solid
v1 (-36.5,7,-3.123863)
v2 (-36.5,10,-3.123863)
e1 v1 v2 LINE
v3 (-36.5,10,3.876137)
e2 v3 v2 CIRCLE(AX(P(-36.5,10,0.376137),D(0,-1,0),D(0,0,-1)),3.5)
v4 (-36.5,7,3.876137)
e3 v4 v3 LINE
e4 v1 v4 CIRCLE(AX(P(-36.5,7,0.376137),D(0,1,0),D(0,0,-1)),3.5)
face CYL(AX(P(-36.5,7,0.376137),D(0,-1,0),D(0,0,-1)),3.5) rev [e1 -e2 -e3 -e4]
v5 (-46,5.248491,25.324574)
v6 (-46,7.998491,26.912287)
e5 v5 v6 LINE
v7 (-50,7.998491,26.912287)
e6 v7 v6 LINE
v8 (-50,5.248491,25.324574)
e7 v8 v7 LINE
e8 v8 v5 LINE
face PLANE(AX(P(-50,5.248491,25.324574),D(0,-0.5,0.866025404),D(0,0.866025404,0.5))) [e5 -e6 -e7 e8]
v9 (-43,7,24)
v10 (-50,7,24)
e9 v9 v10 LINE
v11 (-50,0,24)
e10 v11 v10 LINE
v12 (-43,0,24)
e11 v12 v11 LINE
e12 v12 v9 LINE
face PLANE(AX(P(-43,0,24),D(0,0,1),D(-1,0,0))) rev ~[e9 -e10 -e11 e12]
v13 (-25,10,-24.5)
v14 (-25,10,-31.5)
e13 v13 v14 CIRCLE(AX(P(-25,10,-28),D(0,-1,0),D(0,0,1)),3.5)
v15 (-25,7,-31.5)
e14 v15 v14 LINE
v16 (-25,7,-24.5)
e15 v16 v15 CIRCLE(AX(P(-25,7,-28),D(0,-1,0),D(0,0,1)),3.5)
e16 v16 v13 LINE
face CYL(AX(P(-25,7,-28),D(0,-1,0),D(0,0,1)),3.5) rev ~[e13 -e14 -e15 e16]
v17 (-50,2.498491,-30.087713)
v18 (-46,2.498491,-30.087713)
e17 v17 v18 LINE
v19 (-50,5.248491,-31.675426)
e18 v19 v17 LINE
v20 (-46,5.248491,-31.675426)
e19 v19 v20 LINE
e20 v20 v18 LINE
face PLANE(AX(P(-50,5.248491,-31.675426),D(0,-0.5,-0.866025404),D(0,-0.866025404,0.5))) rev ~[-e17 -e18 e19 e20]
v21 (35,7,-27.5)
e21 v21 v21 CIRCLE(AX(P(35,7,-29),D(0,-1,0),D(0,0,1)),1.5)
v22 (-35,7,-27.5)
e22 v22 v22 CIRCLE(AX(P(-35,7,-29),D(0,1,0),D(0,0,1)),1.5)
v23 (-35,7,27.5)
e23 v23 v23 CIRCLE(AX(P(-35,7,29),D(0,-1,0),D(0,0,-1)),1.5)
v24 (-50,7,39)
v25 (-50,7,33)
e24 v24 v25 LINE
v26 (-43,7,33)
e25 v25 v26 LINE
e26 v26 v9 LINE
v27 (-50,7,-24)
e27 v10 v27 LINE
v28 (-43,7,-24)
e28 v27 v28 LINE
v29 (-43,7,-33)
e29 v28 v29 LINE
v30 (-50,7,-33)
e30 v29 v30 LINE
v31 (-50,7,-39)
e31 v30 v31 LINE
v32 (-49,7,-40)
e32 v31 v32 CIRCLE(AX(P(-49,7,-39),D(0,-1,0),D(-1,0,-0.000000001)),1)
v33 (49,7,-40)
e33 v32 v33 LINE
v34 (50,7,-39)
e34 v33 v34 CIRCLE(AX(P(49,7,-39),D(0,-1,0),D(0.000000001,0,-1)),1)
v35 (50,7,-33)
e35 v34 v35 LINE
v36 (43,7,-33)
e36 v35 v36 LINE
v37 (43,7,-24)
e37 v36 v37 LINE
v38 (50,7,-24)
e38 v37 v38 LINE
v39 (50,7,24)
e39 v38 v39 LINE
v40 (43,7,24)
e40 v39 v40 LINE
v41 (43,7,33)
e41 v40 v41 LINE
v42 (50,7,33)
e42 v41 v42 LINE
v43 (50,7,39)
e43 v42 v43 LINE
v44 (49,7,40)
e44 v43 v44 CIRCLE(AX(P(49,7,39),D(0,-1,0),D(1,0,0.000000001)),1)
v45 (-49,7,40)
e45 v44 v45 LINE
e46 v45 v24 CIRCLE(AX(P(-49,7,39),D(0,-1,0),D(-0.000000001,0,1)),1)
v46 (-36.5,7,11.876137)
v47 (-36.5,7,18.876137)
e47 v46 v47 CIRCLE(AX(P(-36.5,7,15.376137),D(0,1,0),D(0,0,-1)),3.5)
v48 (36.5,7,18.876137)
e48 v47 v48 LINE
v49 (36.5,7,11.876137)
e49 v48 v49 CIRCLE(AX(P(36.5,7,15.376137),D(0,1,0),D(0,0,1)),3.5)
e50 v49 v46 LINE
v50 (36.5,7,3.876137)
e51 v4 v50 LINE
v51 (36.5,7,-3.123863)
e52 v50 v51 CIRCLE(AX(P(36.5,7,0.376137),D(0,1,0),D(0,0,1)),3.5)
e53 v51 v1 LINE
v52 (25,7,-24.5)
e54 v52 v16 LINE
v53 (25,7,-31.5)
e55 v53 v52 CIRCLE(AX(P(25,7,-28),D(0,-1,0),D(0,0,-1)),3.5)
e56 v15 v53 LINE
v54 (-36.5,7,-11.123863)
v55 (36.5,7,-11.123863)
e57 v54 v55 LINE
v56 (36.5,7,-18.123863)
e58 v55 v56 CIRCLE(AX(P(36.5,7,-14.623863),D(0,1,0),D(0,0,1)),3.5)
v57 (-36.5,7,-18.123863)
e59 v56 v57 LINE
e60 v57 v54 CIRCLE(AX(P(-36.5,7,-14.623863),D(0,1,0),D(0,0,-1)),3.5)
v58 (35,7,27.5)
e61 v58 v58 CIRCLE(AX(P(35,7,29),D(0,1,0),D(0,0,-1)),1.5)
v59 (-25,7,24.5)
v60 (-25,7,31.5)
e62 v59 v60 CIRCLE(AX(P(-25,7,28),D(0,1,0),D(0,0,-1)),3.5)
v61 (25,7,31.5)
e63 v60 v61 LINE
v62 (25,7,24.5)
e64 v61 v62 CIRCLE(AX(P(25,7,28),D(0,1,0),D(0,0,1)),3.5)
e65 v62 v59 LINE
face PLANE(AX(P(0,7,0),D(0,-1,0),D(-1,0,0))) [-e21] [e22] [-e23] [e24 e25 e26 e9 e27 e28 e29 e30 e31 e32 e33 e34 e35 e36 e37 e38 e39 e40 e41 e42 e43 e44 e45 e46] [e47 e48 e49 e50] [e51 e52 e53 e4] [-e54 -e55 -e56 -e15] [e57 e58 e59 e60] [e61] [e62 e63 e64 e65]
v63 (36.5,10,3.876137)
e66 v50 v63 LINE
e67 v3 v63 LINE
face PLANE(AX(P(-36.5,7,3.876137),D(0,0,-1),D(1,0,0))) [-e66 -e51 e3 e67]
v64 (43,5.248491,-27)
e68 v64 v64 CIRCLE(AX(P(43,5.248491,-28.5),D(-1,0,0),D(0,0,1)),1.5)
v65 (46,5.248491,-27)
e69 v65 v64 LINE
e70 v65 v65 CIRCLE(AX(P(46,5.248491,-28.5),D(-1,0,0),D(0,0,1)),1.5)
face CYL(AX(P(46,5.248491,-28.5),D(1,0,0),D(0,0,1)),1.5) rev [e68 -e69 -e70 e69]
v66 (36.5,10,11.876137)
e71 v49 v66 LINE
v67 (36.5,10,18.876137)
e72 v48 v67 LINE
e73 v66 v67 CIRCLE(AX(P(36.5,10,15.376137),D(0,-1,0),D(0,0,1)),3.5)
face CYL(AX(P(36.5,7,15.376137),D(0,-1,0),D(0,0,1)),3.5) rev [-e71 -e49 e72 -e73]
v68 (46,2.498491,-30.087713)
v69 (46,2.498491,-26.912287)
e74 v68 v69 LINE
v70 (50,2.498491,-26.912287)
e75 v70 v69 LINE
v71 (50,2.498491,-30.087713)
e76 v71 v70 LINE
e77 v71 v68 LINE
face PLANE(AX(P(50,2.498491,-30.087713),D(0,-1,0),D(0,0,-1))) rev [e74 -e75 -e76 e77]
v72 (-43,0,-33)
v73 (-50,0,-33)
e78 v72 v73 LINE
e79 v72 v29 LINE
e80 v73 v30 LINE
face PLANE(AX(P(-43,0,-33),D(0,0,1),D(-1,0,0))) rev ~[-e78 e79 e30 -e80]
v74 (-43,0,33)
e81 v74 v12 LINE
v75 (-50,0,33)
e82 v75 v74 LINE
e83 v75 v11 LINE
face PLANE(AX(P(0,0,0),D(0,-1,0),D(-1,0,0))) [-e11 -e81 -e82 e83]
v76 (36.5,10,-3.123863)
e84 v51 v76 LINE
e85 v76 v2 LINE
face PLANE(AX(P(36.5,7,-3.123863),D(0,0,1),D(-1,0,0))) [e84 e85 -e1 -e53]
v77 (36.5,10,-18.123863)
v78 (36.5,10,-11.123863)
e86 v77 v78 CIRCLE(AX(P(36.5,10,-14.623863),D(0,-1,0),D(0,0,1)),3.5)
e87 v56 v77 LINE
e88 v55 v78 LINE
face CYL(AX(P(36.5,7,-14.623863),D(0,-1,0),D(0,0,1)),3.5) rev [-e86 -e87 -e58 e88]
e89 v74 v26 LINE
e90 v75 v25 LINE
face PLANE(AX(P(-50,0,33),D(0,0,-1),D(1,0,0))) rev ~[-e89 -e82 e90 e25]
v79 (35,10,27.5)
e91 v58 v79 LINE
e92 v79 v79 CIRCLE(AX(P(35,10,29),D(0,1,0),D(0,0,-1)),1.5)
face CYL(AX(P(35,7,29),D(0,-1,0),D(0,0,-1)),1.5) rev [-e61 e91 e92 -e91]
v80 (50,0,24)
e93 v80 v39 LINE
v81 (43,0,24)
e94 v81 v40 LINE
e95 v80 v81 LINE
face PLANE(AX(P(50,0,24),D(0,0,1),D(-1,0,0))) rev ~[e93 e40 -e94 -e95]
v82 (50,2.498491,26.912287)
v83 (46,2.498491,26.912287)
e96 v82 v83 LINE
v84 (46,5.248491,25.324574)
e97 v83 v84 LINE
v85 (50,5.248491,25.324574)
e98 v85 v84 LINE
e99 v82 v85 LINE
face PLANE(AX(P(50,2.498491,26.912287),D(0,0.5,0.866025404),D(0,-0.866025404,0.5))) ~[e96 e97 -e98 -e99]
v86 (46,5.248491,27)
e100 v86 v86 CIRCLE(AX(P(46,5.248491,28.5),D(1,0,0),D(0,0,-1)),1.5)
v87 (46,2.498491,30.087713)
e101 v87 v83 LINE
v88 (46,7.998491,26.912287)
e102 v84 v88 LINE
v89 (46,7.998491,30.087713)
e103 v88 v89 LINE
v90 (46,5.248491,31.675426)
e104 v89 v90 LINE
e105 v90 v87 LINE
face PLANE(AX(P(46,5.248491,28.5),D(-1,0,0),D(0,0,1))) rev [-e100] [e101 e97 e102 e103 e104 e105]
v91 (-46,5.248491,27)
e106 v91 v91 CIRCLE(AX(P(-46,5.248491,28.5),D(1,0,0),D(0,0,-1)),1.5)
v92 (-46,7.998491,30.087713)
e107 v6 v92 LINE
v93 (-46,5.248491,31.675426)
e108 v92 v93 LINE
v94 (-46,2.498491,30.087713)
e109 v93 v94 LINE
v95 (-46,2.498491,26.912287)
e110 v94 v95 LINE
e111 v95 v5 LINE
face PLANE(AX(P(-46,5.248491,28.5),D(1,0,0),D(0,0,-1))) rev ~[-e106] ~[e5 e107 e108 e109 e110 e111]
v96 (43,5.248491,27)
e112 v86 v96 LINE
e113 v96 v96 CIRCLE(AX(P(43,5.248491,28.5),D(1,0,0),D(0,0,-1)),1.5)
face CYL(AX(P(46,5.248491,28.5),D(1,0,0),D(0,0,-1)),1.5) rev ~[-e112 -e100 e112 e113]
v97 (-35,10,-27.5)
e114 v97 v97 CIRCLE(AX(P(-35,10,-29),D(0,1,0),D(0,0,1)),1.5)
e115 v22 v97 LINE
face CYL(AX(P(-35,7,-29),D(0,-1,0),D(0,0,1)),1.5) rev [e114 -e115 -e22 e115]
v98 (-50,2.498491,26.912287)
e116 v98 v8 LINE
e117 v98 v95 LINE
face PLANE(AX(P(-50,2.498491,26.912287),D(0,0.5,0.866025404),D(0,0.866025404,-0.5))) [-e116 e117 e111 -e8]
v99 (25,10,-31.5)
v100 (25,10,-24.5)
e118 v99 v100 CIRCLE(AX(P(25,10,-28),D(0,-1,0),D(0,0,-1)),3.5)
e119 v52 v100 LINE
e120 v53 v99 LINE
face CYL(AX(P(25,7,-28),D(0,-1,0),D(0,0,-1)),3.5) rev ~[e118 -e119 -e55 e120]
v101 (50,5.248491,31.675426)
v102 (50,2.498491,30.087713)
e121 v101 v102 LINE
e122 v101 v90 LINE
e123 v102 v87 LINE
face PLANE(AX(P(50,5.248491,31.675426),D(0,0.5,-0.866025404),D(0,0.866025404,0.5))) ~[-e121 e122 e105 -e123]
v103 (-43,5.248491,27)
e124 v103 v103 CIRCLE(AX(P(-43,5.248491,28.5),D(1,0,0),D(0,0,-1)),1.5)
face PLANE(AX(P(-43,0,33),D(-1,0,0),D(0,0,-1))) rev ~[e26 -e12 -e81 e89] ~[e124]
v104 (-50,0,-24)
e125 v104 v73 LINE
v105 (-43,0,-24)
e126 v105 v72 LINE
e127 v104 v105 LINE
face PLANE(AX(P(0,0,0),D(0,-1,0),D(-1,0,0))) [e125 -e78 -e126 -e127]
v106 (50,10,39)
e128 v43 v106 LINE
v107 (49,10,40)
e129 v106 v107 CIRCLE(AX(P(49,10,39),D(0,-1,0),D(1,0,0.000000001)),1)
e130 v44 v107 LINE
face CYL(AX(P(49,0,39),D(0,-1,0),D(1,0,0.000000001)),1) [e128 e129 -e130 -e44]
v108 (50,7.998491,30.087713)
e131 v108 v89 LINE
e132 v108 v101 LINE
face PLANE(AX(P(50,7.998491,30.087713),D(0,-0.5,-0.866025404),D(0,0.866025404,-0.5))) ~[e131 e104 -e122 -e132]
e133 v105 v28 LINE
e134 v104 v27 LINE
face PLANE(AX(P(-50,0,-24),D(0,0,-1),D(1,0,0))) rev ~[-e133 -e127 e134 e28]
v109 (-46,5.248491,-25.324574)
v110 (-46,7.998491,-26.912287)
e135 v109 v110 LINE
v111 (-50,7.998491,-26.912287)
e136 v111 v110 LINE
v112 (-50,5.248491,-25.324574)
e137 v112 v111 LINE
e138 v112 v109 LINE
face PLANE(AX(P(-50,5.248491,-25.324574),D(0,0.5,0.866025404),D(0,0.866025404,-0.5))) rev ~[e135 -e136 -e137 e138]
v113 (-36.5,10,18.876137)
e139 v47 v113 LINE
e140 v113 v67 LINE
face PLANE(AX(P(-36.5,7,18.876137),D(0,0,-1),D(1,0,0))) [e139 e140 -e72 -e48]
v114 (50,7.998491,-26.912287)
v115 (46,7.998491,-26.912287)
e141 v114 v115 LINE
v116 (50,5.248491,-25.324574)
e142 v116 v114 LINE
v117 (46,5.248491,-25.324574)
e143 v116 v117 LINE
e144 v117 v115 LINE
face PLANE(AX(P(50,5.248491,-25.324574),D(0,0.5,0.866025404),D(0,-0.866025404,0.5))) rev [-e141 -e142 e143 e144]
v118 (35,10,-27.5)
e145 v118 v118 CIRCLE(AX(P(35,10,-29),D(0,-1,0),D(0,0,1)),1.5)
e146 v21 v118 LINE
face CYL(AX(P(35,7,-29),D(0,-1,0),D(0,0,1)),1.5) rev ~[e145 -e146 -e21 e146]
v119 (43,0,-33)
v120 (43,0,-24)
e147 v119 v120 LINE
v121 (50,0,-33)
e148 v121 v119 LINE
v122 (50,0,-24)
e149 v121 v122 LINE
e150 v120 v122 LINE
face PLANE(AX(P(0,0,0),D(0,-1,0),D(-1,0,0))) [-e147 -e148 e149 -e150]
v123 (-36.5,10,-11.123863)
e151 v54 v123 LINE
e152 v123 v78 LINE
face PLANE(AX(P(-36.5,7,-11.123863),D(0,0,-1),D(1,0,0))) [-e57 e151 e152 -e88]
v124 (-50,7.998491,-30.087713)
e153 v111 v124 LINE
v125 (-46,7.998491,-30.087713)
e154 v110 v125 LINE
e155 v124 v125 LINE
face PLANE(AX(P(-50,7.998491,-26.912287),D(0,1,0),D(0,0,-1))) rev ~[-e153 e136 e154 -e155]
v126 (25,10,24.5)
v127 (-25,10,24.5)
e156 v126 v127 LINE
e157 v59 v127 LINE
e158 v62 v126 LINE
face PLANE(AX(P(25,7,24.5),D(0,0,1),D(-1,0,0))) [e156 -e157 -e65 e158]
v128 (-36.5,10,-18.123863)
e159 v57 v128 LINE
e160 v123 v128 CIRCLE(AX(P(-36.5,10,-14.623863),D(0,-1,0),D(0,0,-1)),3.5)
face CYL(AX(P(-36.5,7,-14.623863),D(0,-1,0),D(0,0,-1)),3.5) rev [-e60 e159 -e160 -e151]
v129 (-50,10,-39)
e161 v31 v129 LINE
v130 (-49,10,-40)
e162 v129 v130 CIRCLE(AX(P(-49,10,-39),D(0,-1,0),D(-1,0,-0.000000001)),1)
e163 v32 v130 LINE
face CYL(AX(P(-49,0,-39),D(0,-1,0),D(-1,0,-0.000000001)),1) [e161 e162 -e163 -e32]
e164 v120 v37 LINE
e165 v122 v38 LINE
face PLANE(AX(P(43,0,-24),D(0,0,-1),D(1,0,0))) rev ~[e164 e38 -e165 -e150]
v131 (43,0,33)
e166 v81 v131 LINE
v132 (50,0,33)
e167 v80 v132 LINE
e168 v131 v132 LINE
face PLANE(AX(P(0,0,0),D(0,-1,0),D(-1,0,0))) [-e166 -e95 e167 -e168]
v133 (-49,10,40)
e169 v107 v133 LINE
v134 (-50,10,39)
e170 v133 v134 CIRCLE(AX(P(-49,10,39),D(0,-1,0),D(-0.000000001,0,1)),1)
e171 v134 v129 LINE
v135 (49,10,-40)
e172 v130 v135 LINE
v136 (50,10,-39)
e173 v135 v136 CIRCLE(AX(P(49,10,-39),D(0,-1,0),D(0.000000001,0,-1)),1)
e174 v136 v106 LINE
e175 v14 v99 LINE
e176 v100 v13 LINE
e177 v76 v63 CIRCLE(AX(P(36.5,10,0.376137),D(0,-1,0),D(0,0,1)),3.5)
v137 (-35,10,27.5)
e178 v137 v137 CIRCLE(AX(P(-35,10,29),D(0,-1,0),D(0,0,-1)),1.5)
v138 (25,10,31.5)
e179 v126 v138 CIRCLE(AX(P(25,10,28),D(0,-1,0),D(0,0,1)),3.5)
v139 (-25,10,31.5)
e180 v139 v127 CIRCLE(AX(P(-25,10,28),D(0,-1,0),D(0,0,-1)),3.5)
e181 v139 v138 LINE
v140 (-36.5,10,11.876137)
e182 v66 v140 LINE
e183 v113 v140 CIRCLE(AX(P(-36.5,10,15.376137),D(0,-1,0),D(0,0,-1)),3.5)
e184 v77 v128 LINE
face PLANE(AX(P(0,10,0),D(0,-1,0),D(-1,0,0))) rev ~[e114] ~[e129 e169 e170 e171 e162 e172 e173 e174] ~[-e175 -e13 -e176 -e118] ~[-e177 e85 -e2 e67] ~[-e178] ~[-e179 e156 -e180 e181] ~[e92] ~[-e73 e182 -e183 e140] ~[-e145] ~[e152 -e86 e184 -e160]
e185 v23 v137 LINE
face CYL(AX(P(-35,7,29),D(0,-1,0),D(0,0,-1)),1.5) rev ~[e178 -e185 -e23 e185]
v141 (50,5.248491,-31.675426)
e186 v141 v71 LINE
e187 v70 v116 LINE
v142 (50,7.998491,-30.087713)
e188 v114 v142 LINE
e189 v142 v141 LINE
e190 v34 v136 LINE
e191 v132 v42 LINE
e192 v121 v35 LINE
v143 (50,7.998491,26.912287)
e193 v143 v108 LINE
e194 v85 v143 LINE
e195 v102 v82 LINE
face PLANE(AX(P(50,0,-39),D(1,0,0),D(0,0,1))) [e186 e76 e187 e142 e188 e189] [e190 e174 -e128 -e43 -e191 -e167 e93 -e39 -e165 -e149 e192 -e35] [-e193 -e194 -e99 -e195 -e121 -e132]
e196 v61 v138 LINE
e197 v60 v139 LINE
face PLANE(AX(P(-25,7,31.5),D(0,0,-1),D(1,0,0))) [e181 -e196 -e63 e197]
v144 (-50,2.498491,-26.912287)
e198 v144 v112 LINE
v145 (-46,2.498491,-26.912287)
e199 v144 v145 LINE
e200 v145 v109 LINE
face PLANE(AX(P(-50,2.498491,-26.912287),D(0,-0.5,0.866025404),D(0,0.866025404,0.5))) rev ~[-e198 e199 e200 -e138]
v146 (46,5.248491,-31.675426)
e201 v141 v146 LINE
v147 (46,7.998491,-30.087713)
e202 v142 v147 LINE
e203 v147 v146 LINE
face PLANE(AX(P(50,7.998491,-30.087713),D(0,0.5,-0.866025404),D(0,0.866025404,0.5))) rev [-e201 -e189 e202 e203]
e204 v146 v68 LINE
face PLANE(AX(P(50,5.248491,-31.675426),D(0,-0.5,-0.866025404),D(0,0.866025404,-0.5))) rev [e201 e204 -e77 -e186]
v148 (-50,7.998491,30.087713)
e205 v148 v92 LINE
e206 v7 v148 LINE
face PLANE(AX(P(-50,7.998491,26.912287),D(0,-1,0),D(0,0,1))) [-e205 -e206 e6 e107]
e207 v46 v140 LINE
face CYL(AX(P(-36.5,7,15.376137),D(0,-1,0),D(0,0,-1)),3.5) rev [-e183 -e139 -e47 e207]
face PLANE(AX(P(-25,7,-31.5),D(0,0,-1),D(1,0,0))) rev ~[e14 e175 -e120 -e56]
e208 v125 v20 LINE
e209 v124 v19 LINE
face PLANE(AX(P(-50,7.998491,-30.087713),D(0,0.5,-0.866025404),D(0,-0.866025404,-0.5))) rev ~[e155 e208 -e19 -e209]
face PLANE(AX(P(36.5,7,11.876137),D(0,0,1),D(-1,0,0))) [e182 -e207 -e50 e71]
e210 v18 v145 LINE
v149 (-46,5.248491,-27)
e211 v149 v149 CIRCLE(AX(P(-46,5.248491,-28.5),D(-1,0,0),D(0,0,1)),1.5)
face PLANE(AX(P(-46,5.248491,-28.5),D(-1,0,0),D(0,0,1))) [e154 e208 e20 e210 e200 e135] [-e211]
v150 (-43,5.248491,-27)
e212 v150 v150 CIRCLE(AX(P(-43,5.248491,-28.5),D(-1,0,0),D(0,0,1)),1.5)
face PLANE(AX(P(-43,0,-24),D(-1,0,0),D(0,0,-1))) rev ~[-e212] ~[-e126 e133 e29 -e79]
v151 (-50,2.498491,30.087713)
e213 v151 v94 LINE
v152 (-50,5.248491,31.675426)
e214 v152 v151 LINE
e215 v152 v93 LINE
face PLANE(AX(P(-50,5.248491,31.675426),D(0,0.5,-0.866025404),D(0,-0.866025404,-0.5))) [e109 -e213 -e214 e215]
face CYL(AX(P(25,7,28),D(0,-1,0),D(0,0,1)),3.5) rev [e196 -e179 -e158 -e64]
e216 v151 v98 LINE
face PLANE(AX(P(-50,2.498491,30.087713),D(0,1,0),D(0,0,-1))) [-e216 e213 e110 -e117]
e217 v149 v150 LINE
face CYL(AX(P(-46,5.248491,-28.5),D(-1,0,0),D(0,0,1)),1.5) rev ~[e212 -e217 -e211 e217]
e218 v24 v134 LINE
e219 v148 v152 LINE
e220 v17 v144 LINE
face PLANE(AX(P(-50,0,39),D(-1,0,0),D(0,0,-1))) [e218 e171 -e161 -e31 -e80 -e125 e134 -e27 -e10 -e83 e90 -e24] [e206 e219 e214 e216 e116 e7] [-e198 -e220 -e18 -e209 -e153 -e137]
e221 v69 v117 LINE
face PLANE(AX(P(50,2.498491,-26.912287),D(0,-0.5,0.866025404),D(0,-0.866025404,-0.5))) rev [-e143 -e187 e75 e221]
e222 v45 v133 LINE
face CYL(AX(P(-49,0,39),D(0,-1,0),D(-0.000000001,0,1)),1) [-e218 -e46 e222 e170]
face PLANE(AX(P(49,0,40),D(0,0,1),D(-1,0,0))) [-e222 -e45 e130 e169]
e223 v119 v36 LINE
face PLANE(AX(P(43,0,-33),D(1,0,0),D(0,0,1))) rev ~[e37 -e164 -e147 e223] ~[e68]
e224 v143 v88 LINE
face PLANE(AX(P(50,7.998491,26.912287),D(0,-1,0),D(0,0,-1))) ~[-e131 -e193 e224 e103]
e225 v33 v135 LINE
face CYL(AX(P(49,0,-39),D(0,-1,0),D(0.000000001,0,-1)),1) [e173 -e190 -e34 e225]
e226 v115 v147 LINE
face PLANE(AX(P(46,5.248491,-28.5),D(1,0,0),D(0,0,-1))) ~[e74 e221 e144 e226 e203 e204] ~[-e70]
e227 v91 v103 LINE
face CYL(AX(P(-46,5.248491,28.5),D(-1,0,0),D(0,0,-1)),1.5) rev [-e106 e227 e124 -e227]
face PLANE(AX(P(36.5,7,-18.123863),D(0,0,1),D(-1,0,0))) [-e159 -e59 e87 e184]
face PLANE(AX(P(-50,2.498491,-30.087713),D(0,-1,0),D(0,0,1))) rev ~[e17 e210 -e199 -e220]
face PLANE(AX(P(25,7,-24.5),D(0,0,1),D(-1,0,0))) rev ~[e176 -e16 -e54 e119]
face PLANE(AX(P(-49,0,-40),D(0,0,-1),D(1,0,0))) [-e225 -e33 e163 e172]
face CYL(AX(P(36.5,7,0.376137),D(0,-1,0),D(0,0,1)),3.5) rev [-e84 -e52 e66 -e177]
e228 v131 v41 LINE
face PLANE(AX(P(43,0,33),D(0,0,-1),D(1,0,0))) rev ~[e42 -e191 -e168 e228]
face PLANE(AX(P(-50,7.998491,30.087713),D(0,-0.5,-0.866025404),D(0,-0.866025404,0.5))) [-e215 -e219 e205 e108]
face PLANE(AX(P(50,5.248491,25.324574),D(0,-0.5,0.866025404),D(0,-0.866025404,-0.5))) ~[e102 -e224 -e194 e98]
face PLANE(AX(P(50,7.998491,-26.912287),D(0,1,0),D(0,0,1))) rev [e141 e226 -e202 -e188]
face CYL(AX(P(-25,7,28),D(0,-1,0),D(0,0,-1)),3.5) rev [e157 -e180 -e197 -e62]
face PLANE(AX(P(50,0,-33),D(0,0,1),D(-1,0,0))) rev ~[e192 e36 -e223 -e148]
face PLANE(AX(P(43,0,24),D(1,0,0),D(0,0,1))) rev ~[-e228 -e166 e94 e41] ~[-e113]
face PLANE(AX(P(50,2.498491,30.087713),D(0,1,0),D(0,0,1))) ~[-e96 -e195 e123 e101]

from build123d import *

# Parameters (mm, degrees)
EXTRUDE_1_DEPTH                            = 10
CUT_EXTRUDE_1_DEPTH                        = 7
CUT_EXTRUDE_3_DEPTH                        = 4
CUT_EXTRUDE_4_DEPTH                        = 65.412731661
CUT_EXTRUDE_6_REACH                        = 106.48
SKETCH_8_R                                 = 1.5
CUT_EXTRUDE_6_DIRECTION_2_DEPTH            = 105.479663093
MIRROR_2_AT_THE_SECOND_PLANE_COPY_1_REACH  = 106.48
MIRROR_2_AT_THE_SECOND_PLANE_COPY_1_SKET_R = 1.5
MIRROR_2_AT_THE_SECOND_PLANE_COPY_2_SKET_R = 1.5
MIRROR_2_AT_THE_SECOND_PLANE_COPY_2_DEPTH  = 105.479663093
MIRROR_2_AT_THE_SECOND_PLANE_COPY_3_SKET_R = 1.5
MIRROR_2_AT_THE_SECOND_PLANE_COPY_3_DEPTH  = 105.479663093
CUT_EXTRUDE_7_REACH                        = 66.413
SKETCH_9_R                                 = 1.5
MIRROR_3_AT_THE_SECOND_PLANE_COPY_1_REACH  = 66.413
MIRROR_3_AT_THE_SECOND_PLANE_COPY_1_SKET_R = 1.5


with BuildPart() as part:
    # 草图1 → 凸台-拉伸1 (new body)
    with BuildSketch(Plane(origin=(0, 0, 0), x_dir=(1, 0, 0), z_dir=(0, 1, 0))):
        with BuildLine():
            Line((-49, 40), (49, 40))
            ThreePointArc((49, 40), (49.707106781, 39.707106781), (50, 39))
            Line((50, 39), (50, -39))
            ThreePointArc((50, -39), (49.707106781, -39.707106781), (49, -40))
            Line((49, -40), (-49, -40))
            ThreePointArc((-49, -40), (-49.707106781, -39.707106781), (-50, -39))
            Line((-50, -39), (-50, 39))
            ThreePointArc((-50, 39), (-49.707106781, 39.707106781), (-49, 40))
        make_face()
    extrude(amount=EXTRUDE_1_DEPTH)

    # 草图2 → 切除-拉伸1 (cut)
    with BuildSketch(Plane(origin=(0, 0, 0), x_dir=(-1, 0, 0), z_dir=(0, -1, 0))):
        Polygon((-50, 33), (-43, 33), (-43, 24), (-50, 24), (-50, -24), (-43, -24), (-43, -33), (-50, -33), (-50, -40), (50, -40), (50, -33), (43, -33), (43, -24), (50, -24), (50, 24), (43, 24), (43, 33), (50, 33), (50, 40), (-50, 40), align=None)
    extrude(amount=-CUT_EXTRUDE_1_DEPTH, mode=Mode.SUBTRACT)

    # 草图5 → 切除-拉伸3 (cut)
    with BuildSketch(Plane.ZY.offset(50)):
        Polygon((30.08771324, 7.998490707), (31.675426481, 5.248490707), (30.08771324, 2.498490707), (26.91228676, 2.498490707), (25.324573519, 5.248490707), (26.91228676, 7.998490707), align=None)
        Polygon((-25.324573519, 5.248490707), (-26.91228676, 7.998490707), (-30.08771324, 7.998490707), (-31.675426481, 5.248490707), (-30.08771324, 2.498490707), (-26.91228676, 2.498490707), align=None)
    cut_extrude_3 = extrude(amount=-CUT_EXTRUDE_3_DEPTH, mode=Mode.SUBTRACT)

    # 镜向1: 切除-拉伸3 across plane
    add(cut_extrude_3.mirror(Plane(origin=(0, 0, 0), x_dir=(0, 0, 1), z_dir=(1, 0, 0))), mode=Mode.SUBTRACT)

    # 草图6 → 切除-拉伸4 (cut, through all)
    with BuildSketch(Plane(origin=(0, 7, 0), x_dir=(-1, 0, 0), z_dir=(0, -1, 0))):
        with BuildLine():
            Line((25, -31.5), (-25, -31.5))
            ThreePointArc((-25, -31.5), (-28.5, -28), (-25, -24.5))
            Line((-25, -24.5), (25, -24.5))
            ThreePointArc((25, -24.5), (28.5, -28), (25, -31.5))
        make_face()
        with BuildLine():
            Line((25, 31.5), (-25, 31.5))
            ThreePointArc((-25, 31.5), (-28.5, 28), (-25, 24.5))
            Line((-25, 24.5), (25, 24.5))
            ThreePointArc((25, 24.5), (28.5, 28), (25, 31.5))
        make_face()
        with BuildLine():
            Line((-36.5, -11.876137074), (36.5, -11.876137074))
            ThreePointArc((36.5, -11.876137074), (40, -15.376137074), (36.5, -18.876137074))
            Line((36.5, -18.876137074), (-36.5, -18.876137074))
            ThreePointArc((-36.5, -18.876137074), (-40, -15.376137074), (-36.5, -11.876137074))
        make_face()
        with BuildLine():
            Line((-36.5, 3.123862926), (36.5, 3.123862926))
            ThreePointArc((36.5, 3.123862926), (40, -0.376137074), (36.5, -3.876137074))
            Line((36.5, -3.876137074), (-36.5, -3.876137074))
            ThreePointArc((-36.5, -3.876137074), (-40, -0.376137074), (-36.5, 3.123862926))
        make_face()
        with BuildLine():
            Line((-36.5, 18.123862926), (36.5, 18.123862926))
            ThreePointArc((36.5, 18.123862926), (40, 14.623862926), (36.5, 11.123862926))
            Line((36.5, 11.123862926), (-36.5, 11.123862926))
            ThreePointArc((-36.5, 11.123862926), (-40, 14.623862926), (-36.5, 18.123862926))
        make_face()
    extrude(amount=-CUT_EXTRUDE_4_DEPTH, mode=Mode.SUBTRACT)

    # 草图8 → 切除-拉伸6 (cut, up to next)
    with BuildSketch(Plane.ZY.offset(46), mode=Mode.PRIVATE) as cut_extrude_6_sk1:
        with Locations((-28.5, 5.248490707)):
            Circle(SKETCH_8_R)
    cut_extrude_6_tool1 = extrude(cut_extrude_6_sk1.sketch, amount=-CUT_EXTRUDE_6_REACH, mode=Mode.PRIVATE) & part.part
    cut_extrude_6 = cut_extrude_6_tool1.solids().sort_by_distance((-46, 5.248491, -28.5))[0]
    add(cut_extrude_6, mode=Mode.SUBTRACT)

    # 草图8 → 切除-拉伸6 direction 2 (cut)
    with BuildSketch(Plane.ZY.offset(46)):
        with Locations((-28.5, 5.248490707)):
            Circle(SKETCH_8_R)
    cut_extrude_6_direction_2 = extrude(amount=CUT_EXTRUDE_6_DIRECTION_2_DEPTH, mode=Mode.SUBTRACT)

    # 镜向2: 切除-拉伸6, 切除-拉伸6 direction 2 across plane
    add(cut_extrude_6.mirror(Plane(origin=(0, 0, 0), x_dir=(0, 0, 1), z_dir=(1, 0, 0))), mode=Mode.SUBTRACT)
    add(cut_extrude_6_direction_2.mirror(Plane(origin=(0, 0, 0), x_dir=(0, 0, 1), z_dir=(1, 0, 0))), mode=Mode.SUBTRACT)

    # 镜向2 at the second plane: 切除-拉伸6, 切除-拉伸6 direction 2 across plane
    add(cut_extrude_6.mirror(Plane.XY), mode=Mode.SUBTRACT)
    add(cut_extrude_6_direction_2.mirror(Plane.XY), mode=Mode.SUBTRACT)

    # 镜向2 at the second plane copy 1 sket → 镜向2 at the second plane copy 1 (cut, up to next)
    with BuildSketch(Plane(origin=(46, 0, 0), x_dir=(0, 0, -1), z_dir=(1, 0, 0)), mode=Mode.PRIVATE) as mirror_2_at_the_second_plane_copy_1_sk1:
        with Locations((-28.5, 5.248490707)):
            Circle(MIRROR_2_AT_THE_SECOND_PLANE_COPY_1_SKET_R)
    mirror_2_at_the_second_plane_copy_1_tool1 = extrude(mirror_2_at_the_second_plane_copy_1_sk1.sketch, amount=-MIRROR_2_AT_THE_SECOND_PLANE_COPY_1_REACH, mode=Mode.PRIVATE) & part.part
    add(mirror_2_at_the_second_plane_copy_1_tool1.solids().sort_by_distance((46, 5.248491, 28.5))[0], mode=Mode.SUBTRACT)

    # 镜向2 at the second plane copy 2 sket → 镜向2 at the second plane copy 2 (cut)
    with BuildSketch(Plane(origin=(46, 0, 0), x_dir=(0, 0, -1), z_dir=(1, 0, 0))):
        with Locations((-28.5, 5.248490707)):
            Circle(MIRROR_2_AT_THE_SECOND_PLANE_COPY_2_SKET_R)
    extrude(amount=MIRROR_2_AT_THE_SECOND_PLANE_COPY_2_DEPTH, mode=Mode.SUBTRACT)

    # 镜向2 at the second plane copy 3 sket → 镜向2 at the second plane copy 3 (cut)
    with BuildSketch(Plane(origin=(-46, 0, 0), x_dir=(0, 0, -1), z_dir=(-1, 0, 0))):
        with Locations((-28.5, -5.248490707)):
            Circle(MIRROR_2_AT_THE_SECOND_PLANE_COPY_3_SKET_R)
    extrude(amount=MIRROR_2_AT_THE_SECOND_PLANE_COPY_3_DEPTH, mode=Mode.SUBTRACT)

    # 草图9 → 切除-拉伸7 (cut, up to next)
    with BuildSketch(Plane(origin=(0, 7, 0), x_dir=(-1, 0, 0), z_dir=(0, -1, 0)), mode=Mode.PRIVATE) as cut_extrude_7_sk1:
        with Locations(Location((35, -29, 0), (0, 0, 90))):
            Circle(SKETCH_9_R)
    cut_extrude_7_tool1 = extrude(cut_extrude_7_sk1.sketch, amount=-CUT_EXTRUDE_7_REACH, mode=Mode.PRIVATE) & part.part
    cut_extrude_7 = cut_extrude_7_tool1.solids().sort_by_distance((-35, 7, 29))[0]
    add(cut_extrude_7, mode=Mode.SUBTRACT)

    # 镜向3: 切除-拉伸7 across plane
    add(cut_extrude_7.mirror(Plane.XY), mode=Mode.SUBTRACT)

    # 镜向3 at the second plane: 切除-拉伸7 across plane
    add(cut_extrude_7.mirror(Plane(origin=(0, 0, 0), x_dir=(0, 0, 1), z_dir=(1, 0, 0))), mode=Mode.SUBTRACT)

    # 镜向3 at the second plane copy 1 sket → 镜向3 at the second plane copy 1 (cut, up to next)
    with BuildSketch(Plane.XZ.offset(-7), mode=Mode.PRIVATE) as mirror_3_at_the_second_plane_copy_1_sk1:
        with Locations(Location((35, -29, 0), (0, 0, 90))):
            Circle(MIRROR_3_AT_THE_SECOND_PLANE_COPY_1_SKET_R)
    mirror_3_at_the_second_plane_copy_1_tool1 = extrude(mirror_3_at_the_second_plane_copy_1_sk1.sketch, amount=-MIRROR_3_AT_THE_SECOND_PLANE_COPY_1_REACH, mode=Mode.PRIVATE) & part.part
    add(mirror_3_at_the_second_plane_copy_1_tool1.solids().sort_by_distance((35, 7, -29))[0], mode=Mode.SUBTRACT)


solid = part.part
